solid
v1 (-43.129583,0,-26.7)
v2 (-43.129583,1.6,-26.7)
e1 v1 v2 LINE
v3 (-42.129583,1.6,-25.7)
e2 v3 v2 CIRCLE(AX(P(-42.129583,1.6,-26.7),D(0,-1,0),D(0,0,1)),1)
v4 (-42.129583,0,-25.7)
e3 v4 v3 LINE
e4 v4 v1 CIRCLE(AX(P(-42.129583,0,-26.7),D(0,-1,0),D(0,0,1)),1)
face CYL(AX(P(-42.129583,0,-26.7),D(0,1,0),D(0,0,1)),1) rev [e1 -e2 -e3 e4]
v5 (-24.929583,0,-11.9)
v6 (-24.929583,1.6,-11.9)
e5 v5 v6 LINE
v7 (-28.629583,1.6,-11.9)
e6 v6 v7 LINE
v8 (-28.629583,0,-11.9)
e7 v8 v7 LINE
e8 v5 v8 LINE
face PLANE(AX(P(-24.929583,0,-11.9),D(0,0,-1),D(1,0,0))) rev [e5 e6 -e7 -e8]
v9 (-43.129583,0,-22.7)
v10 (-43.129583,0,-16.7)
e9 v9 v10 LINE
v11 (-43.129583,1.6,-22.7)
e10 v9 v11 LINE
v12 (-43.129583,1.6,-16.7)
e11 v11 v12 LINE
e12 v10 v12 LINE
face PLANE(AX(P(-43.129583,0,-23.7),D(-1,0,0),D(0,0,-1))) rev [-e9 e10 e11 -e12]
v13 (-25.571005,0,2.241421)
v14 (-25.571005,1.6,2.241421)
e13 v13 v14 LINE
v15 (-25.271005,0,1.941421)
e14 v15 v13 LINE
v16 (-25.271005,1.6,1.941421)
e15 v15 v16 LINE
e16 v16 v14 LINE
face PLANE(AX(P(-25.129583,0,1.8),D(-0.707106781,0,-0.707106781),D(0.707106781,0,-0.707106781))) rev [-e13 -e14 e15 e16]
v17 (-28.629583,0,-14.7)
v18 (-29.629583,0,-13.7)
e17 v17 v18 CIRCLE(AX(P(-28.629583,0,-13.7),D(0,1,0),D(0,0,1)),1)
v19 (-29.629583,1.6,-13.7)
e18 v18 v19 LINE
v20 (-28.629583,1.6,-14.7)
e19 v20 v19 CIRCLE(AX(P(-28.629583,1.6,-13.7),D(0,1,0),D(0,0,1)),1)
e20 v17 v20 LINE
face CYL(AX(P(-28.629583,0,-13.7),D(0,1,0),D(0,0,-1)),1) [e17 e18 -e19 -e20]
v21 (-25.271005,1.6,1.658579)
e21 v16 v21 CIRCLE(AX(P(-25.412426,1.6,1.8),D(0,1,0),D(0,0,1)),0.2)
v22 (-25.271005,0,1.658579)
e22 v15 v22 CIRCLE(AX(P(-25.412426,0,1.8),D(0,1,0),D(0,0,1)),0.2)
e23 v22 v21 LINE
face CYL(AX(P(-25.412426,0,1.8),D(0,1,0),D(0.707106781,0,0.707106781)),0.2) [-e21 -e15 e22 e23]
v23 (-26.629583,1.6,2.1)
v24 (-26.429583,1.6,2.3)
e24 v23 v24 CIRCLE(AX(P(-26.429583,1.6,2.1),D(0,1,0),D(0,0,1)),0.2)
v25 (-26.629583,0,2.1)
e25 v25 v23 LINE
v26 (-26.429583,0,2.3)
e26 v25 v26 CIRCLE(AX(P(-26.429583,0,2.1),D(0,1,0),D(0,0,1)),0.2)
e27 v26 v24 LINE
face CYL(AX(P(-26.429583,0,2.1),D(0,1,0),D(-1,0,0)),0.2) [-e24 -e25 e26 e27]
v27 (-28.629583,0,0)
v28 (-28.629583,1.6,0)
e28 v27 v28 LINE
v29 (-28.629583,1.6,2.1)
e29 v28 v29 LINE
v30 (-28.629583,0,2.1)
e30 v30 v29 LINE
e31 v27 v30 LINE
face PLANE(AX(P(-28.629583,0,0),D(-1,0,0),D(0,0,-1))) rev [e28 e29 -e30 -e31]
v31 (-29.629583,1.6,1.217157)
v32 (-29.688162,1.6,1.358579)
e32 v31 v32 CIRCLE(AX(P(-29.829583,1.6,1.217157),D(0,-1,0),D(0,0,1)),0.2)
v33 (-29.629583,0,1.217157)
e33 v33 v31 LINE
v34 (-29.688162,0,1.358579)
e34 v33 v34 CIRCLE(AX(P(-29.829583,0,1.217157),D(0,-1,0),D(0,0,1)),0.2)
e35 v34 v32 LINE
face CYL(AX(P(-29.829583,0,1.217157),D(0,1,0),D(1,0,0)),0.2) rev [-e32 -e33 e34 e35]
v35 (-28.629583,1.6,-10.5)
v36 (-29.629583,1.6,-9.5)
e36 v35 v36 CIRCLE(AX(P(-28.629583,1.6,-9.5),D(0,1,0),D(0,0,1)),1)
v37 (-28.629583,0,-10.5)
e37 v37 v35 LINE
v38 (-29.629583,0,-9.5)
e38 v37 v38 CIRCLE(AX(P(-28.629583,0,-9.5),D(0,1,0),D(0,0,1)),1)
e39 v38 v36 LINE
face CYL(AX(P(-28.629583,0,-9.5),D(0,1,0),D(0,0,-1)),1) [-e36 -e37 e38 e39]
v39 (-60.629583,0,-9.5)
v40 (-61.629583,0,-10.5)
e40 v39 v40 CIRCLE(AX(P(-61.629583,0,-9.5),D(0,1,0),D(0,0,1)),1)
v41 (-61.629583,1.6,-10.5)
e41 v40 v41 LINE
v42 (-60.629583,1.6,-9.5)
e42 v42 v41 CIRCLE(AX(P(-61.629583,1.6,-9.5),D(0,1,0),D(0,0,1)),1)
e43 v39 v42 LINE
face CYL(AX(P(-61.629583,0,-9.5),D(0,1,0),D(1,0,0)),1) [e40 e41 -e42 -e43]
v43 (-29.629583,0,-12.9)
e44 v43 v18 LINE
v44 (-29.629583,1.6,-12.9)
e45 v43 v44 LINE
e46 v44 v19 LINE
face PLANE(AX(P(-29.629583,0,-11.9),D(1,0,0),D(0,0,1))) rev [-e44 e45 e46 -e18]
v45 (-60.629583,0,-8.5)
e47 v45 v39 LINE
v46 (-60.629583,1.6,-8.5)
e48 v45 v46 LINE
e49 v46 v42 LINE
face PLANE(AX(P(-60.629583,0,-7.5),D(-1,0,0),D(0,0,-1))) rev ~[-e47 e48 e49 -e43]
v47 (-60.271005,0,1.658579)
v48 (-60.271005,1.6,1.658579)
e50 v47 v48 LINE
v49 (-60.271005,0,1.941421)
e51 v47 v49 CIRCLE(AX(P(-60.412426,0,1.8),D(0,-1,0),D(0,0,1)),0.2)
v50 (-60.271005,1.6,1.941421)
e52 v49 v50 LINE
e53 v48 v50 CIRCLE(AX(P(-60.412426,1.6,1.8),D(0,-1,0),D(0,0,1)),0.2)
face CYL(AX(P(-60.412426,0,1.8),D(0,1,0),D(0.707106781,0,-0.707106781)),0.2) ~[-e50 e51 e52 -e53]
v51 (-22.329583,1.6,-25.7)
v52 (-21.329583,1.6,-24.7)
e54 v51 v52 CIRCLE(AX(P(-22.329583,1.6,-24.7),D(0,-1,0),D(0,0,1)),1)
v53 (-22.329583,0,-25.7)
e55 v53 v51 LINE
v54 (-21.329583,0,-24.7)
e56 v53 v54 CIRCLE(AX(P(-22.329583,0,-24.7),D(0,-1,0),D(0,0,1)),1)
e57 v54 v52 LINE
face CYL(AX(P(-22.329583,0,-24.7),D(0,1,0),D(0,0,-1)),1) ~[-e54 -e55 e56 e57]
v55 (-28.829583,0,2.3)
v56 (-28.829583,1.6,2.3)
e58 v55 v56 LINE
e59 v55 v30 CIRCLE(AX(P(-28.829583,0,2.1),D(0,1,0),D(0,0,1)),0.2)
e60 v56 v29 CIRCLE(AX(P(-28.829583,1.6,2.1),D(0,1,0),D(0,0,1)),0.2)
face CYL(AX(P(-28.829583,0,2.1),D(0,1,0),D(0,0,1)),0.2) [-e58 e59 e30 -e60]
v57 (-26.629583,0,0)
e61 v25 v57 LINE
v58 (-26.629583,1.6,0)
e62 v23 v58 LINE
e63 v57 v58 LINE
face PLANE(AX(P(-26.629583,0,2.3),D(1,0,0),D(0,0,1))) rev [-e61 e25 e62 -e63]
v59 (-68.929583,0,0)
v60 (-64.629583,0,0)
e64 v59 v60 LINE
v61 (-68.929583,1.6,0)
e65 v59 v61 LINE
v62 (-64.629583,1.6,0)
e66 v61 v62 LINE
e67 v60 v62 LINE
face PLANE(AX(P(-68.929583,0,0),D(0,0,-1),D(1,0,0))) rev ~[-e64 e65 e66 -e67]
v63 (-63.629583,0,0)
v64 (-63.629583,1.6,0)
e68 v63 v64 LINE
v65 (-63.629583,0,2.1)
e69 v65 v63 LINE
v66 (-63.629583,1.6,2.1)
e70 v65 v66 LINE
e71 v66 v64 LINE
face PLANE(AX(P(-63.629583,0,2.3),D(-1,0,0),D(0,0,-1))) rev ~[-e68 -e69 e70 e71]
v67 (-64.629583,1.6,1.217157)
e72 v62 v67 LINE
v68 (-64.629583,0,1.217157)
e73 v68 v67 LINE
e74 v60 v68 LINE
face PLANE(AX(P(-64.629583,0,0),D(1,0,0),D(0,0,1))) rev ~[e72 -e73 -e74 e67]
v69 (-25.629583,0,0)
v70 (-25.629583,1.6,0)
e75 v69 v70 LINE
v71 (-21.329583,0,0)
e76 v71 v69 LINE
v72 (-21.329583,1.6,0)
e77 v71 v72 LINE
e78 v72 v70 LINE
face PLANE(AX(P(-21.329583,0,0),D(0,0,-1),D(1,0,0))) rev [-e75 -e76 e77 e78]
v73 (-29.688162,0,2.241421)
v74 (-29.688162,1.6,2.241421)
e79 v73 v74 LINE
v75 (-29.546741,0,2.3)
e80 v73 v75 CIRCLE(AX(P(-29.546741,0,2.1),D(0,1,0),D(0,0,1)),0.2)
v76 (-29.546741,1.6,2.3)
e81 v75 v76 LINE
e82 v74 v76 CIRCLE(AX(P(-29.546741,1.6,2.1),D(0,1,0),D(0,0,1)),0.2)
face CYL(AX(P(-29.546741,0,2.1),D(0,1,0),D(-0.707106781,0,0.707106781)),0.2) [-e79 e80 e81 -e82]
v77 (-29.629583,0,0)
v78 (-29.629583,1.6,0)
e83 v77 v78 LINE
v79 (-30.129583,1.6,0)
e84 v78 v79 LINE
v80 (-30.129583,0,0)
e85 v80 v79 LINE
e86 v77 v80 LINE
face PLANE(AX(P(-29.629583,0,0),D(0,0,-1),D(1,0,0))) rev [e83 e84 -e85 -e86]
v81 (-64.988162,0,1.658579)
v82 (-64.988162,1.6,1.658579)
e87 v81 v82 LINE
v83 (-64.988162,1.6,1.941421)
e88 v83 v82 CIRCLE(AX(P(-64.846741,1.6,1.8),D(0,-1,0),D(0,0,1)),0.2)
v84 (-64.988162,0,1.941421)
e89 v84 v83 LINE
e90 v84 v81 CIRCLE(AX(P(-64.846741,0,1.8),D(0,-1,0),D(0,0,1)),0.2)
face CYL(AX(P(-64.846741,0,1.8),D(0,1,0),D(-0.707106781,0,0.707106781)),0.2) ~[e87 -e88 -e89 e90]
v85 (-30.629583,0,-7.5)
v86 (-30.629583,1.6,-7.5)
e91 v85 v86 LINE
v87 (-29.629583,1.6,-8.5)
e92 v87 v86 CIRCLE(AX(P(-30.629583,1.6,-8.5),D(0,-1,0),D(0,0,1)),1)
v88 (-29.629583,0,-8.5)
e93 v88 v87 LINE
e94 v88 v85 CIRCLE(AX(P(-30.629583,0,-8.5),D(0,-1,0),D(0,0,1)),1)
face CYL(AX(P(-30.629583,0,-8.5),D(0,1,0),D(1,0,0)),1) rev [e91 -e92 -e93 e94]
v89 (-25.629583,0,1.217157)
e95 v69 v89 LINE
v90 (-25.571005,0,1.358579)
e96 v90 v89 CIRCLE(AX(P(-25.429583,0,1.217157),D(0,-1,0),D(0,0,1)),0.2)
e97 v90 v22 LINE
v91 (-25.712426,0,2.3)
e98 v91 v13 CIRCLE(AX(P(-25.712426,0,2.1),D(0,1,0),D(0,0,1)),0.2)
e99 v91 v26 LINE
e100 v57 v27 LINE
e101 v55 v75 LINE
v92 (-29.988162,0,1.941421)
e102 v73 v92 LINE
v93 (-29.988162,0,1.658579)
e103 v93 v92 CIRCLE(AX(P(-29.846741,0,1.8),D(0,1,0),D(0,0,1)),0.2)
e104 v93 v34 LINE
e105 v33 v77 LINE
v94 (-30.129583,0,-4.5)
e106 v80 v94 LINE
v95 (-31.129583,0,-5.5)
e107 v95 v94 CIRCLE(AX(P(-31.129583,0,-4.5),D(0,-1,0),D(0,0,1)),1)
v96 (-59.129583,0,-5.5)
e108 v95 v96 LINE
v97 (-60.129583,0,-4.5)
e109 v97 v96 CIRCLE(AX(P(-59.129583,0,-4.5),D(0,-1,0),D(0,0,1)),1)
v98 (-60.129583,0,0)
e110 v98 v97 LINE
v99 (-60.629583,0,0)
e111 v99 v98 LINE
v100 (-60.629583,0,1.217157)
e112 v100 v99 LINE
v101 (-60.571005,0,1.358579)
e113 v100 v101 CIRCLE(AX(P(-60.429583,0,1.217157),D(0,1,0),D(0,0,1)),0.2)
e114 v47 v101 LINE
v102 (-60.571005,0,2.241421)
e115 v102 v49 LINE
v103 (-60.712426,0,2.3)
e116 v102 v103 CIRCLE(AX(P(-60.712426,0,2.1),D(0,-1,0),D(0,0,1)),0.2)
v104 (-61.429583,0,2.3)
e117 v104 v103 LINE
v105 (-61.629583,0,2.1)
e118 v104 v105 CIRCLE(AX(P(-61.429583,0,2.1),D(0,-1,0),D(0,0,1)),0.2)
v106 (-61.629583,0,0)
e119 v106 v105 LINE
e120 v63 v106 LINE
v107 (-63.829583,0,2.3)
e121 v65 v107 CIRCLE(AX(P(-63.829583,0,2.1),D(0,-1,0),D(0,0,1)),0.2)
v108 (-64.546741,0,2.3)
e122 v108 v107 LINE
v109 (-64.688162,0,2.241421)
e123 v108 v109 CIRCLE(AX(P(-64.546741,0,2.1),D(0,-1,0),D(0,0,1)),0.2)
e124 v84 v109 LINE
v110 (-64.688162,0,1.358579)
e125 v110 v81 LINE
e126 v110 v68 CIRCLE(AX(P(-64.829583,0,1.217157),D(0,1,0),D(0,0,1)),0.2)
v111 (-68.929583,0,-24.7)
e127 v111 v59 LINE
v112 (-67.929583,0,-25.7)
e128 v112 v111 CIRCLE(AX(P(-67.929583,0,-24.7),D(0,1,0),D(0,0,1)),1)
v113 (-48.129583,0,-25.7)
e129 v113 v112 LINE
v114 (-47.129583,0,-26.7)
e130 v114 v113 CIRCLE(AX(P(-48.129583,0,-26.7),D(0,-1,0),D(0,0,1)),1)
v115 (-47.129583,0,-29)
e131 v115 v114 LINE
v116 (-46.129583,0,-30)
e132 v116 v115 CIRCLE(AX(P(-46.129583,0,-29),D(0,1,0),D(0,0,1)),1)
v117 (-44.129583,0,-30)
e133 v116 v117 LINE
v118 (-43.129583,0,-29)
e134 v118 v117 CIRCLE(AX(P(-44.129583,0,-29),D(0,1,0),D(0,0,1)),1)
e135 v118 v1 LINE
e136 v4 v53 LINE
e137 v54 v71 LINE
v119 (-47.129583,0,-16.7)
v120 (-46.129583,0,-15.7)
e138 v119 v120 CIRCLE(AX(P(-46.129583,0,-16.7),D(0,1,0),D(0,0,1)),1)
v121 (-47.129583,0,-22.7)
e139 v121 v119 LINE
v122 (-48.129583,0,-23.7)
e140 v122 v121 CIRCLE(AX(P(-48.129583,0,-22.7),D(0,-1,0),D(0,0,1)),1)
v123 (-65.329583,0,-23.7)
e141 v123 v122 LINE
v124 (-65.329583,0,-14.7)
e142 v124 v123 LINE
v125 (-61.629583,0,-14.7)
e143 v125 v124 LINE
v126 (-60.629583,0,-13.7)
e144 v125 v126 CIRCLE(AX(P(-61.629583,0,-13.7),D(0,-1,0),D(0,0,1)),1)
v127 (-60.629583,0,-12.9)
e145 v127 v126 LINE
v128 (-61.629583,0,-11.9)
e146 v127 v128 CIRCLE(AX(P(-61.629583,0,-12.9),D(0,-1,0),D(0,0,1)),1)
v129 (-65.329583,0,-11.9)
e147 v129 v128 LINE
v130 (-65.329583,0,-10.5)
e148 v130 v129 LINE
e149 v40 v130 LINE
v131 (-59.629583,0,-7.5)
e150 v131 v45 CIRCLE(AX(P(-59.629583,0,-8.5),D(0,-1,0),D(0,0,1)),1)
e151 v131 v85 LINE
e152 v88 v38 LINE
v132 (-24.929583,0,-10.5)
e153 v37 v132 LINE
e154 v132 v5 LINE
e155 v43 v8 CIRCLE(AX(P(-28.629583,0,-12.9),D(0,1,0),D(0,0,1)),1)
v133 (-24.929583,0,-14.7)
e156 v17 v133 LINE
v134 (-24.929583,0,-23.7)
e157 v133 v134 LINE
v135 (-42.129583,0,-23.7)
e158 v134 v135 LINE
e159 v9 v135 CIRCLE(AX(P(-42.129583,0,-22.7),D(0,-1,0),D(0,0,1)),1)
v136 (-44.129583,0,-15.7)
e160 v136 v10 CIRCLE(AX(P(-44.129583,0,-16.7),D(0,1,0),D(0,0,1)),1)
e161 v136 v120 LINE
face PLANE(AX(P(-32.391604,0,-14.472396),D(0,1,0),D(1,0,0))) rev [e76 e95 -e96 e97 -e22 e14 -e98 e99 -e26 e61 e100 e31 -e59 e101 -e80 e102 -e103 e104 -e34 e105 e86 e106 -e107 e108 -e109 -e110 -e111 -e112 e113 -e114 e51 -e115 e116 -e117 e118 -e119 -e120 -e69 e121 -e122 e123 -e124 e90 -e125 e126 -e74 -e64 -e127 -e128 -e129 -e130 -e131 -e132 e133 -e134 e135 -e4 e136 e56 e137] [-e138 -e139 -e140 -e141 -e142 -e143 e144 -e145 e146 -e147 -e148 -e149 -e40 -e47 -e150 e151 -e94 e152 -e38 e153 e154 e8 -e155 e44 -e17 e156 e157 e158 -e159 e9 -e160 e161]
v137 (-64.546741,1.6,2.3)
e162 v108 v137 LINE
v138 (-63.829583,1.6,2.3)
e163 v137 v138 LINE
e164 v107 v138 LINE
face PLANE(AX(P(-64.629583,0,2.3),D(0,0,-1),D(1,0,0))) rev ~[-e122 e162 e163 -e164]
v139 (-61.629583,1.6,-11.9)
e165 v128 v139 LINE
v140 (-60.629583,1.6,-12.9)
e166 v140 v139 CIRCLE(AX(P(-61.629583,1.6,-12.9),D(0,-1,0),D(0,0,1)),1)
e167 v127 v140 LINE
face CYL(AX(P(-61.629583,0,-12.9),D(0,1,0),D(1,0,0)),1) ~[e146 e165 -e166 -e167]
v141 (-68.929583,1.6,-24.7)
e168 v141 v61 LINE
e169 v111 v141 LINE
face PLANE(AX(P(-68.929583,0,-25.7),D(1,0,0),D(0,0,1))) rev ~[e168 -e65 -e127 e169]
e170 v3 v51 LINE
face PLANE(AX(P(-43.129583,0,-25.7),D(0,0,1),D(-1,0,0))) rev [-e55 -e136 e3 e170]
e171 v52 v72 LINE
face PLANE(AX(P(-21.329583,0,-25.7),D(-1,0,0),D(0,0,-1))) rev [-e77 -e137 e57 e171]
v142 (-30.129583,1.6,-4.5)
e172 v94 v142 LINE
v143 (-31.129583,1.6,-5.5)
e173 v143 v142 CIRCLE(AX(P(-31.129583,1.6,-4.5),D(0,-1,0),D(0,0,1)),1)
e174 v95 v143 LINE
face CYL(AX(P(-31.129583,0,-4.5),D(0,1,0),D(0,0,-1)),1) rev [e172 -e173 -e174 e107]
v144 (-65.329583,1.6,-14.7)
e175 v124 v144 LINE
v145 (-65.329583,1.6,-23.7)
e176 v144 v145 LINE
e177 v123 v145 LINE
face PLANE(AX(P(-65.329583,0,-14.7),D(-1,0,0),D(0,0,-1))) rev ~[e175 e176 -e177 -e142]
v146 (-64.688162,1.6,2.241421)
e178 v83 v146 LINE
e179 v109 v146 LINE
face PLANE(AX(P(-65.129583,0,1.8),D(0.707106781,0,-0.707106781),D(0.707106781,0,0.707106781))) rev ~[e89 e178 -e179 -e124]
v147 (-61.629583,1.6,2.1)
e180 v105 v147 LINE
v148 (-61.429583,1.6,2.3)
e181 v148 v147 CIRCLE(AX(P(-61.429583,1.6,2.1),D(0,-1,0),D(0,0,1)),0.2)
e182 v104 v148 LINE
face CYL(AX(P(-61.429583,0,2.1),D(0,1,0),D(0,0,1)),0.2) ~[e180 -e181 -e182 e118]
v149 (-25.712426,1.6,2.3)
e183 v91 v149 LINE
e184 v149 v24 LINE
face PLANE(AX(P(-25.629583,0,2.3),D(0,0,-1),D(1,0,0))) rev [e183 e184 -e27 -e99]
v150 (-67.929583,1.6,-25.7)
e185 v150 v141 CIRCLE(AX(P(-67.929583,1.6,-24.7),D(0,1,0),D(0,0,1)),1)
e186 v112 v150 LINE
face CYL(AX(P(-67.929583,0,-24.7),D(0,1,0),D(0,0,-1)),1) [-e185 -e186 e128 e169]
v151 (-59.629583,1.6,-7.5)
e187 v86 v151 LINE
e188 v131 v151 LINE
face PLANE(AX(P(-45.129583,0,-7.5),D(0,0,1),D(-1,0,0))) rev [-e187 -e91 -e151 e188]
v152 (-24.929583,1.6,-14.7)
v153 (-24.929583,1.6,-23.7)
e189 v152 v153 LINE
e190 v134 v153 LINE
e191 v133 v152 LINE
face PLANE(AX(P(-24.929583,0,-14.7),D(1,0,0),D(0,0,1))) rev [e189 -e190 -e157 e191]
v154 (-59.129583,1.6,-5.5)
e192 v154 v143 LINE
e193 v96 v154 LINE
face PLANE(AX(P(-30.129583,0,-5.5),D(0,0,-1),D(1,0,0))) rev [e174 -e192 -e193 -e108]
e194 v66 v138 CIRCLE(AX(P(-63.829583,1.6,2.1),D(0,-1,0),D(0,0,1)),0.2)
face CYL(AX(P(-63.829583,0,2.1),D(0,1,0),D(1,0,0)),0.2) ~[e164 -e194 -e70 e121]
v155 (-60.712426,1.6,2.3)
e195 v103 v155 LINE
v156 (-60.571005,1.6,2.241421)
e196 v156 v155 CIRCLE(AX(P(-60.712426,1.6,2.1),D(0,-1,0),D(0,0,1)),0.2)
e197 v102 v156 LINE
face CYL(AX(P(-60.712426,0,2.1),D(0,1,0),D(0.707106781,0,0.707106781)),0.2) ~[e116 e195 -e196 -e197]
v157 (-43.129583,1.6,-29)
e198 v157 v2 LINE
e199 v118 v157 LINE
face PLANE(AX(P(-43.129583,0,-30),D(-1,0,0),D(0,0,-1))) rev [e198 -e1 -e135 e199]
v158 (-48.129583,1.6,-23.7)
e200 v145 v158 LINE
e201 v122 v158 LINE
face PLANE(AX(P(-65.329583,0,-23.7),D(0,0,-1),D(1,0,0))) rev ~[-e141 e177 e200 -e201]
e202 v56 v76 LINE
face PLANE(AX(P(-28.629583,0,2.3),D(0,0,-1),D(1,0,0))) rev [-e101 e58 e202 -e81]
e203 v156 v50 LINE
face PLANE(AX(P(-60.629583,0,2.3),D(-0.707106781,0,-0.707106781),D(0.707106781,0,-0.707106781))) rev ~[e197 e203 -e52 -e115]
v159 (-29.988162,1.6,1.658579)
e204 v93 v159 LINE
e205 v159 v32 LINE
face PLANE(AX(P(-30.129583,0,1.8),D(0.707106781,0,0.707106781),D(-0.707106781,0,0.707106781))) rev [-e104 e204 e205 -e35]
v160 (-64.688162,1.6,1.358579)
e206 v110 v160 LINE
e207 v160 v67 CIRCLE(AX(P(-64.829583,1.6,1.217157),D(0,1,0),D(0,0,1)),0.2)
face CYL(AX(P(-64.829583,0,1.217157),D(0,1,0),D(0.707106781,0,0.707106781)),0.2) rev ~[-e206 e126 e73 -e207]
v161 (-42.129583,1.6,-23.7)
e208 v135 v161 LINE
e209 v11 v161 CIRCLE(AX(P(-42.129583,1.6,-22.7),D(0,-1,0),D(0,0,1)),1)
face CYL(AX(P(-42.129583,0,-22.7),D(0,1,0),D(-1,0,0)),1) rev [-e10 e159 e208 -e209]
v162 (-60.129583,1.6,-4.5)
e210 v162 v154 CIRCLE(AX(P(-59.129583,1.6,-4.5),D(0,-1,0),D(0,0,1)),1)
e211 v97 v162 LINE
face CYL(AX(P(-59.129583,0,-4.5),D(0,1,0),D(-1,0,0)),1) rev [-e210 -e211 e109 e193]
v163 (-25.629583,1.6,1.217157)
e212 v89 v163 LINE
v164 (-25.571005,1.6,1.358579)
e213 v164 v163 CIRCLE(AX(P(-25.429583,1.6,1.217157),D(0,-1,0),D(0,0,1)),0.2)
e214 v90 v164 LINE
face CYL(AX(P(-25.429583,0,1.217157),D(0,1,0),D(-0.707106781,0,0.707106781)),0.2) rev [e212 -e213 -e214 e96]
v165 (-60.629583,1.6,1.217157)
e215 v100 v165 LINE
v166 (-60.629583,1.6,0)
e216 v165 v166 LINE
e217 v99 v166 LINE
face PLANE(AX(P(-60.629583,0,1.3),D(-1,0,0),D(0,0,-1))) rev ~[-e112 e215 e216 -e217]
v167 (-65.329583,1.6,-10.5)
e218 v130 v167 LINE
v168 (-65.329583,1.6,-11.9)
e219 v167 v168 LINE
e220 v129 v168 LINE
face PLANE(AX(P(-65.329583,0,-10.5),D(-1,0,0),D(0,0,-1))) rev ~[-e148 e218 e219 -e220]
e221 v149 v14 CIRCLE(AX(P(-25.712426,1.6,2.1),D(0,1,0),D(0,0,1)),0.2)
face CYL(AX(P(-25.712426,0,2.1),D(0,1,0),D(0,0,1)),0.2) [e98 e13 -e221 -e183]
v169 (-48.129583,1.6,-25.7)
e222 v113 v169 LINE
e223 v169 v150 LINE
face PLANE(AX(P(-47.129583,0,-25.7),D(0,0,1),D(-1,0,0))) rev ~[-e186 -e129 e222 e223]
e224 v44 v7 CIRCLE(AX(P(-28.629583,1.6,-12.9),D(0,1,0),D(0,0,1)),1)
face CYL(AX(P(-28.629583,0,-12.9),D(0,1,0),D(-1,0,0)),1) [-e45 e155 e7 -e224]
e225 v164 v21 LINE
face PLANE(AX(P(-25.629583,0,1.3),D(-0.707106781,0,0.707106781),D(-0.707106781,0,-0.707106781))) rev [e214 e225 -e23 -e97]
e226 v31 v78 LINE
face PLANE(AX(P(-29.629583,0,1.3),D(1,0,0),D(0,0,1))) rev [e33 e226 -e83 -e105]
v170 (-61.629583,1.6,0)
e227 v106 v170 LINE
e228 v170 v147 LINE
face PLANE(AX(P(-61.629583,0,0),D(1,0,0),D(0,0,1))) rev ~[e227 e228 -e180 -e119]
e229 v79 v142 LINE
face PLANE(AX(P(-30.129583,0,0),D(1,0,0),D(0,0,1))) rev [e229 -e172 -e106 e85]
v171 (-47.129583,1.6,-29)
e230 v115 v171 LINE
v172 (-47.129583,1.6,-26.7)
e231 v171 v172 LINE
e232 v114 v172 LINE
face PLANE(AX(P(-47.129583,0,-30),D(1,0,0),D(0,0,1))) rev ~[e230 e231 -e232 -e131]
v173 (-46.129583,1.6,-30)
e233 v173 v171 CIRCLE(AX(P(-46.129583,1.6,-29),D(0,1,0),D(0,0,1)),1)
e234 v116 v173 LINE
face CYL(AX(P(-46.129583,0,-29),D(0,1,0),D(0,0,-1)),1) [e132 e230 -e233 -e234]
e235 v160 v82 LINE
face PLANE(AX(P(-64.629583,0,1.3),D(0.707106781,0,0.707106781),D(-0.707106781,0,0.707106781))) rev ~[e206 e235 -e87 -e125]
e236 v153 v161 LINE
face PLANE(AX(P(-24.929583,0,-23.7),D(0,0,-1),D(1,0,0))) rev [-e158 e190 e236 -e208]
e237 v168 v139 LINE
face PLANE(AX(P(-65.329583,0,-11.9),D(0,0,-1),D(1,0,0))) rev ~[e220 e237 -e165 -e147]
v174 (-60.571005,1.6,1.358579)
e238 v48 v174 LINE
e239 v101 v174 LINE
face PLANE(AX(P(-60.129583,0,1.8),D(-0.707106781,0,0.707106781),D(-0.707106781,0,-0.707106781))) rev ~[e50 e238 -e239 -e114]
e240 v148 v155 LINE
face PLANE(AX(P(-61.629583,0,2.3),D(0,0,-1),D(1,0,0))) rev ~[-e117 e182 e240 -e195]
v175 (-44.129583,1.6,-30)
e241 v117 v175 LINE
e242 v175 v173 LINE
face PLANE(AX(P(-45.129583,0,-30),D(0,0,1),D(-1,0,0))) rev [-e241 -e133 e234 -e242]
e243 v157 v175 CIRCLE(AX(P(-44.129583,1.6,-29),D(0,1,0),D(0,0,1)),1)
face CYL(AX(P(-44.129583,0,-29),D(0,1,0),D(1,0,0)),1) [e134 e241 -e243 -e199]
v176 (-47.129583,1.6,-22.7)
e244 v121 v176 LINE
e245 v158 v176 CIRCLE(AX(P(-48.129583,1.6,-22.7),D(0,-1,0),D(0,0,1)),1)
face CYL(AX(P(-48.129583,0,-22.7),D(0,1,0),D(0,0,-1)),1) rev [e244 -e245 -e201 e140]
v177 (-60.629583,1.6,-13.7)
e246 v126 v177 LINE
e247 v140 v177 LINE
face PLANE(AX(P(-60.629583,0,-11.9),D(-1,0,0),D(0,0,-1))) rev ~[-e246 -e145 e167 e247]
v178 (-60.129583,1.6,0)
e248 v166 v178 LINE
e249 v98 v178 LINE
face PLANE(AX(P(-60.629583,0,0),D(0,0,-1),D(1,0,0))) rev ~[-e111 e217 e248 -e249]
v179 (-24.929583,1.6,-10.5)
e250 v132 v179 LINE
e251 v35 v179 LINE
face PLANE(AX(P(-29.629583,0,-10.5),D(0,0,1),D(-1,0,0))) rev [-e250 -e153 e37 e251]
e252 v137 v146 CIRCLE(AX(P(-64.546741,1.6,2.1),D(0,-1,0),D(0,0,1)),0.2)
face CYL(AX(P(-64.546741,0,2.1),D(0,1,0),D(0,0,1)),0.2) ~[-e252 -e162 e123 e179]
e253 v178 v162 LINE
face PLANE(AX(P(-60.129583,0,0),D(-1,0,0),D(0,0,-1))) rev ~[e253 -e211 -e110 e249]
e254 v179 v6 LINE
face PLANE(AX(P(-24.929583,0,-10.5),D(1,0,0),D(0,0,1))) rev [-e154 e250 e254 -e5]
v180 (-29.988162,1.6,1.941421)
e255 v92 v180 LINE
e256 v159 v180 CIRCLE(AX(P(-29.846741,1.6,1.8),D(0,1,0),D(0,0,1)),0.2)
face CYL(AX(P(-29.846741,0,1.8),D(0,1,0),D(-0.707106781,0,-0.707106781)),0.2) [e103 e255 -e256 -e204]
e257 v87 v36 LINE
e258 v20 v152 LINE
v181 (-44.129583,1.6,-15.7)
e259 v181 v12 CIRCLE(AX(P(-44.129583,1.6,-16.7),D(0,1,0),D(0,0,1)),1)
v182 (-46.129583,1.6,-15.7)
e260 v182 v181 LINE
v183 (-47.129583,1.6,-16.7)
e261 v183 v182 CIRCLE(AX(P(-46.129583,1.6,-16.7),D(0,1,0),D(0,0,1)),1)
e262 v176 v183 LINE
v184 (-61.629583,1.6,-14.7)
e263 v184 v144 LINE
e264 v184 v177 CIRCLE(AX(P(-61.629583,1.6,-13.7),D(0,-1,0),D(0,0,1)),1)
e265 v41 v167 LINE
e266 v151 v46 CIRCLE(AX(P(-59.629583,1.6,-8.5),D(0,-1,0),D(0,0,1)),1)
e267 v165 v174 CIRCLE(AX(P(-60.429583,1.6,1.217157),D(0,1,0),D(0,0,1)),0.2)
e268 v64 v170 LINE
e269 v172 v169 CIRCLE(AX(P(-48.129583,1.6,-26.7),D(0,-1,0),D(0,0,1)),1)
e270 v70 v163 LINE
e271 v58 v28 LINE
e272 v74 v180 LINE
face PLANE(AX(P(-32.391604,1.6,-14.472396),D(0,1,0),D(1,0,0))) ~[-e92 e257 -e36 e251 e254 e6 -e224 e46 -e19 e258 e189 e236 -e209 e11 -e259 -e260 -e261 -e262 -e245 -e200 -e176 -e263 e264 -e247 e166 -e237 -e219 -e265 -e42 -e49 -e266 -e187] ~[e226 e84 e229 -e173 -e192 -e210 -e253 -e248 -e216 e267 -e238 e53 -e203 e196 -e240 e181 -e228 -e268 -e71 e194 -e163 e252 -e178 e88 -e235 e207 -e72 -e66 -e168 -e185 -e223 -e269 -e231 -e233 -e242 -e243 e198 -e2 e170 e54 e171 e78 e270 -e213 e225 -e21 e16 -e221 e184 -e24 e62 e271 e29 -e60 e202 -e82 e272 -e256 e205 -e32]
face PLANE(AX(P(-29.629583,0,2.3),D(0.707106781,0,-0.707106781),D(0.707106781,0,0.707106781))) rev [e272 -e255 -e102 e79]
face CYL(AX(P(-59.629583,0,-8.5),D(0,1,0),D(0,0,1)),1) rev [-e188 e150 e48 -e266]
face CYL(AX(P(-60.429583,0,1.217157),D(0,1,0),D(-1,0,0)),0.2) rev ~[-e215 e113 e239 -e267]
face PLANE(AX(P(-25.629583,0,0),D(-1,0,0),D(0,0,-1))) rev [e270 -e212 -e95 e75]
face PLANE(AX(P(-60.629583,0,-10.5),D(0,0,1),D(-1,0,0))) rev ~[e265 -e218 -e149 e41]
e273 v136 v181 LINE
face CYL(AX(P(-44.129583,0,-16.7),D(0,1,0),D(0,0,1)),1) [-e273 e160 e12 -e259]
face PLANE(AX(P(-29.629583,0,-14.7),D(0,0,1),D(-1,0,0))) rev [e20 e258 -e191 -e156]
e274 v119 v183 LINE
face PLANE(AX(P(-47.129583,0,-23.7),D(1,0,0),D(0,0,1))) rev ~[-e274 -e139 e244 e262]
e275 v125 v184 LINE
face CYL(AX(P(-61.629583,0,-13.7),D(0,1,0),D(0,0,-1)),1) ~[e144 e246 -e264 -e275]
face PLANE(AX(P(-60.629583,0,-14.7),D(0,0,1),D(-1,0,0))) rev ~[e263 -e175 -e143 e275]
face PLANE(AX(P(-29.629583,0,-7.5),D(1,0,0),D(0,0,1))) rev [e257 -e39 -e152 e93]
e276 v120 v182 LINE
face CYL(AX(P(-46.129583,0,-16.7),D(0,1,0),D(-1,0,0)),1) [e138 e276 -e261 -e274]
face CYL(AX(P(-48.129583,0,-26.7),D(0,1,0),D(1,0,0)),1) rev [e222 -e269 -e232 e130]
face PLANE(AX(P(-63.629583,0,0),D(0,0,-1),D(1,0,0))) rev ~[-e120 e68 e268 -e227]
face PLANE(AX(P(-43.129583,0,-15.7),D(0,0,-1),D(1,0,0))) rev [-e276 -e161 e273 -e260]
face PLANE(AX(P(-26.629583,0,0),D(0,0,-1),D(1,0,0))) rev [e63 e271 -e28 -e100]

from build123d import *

# Parameters (mm, degrees)
BOSS_EXTRUDE1_DEPTH = 1.6
FILLET1_R           = 1
FILLET2_R           = 1
FILLET3_R           = 0.2


with BuildPart() as part:
    # Sketch1 → Boss-Extrude1 (new body)
    with BuildSketch(Plane(origin=(0, 0, 0), x_dir=(1, 0, 0), z_dir=(0, 1, 0))):
        Polygon((-68.929583289, 0), (-64.629583289, 0), (-64.629583289, -1.3), (-65.129583289, -1.8), (-64.629583289, -2.3), (-63.629583289, -2.3), (-63.629583289, 0), (-61.629583289, 0), (-61.629583289, -2.3), (-60.629583289, -2.3), (-60.129583289, -1.8), (-60.629583289, -1.3), (-60.629583289, 0), (-60.129583289, 0), (-60.129583289, 5.5), (-45.129583289, 5.5), (-45.129583289, 7.5), (-60.629583289, 7.5), (-60.629583289, 10.5), (-65.329583289, 10.5), (-65.329583289, 11.9), (-60.629583289, 11.9), (-60.629583289, 14.7), (-65.329583289, 14.7), (-65.329583289, 23.7), (-47.129583289, 23.7), (-47.129583289, 15.7), (-45.129583289, 15.7), (-45.129583289, 30), (-47.129583289, 30), (-47.129583289, 25.7), (-68.929583289, 25.7), (-68.929583289, 20), align=None)
    boss_extrude1 = extrude(amount=BOSS_EXTRUDE1_DEPTH)

    # Mirror1: Boss-Extrude1 across plane
    add(boss_extrude1.mirror(Plane(origin=(-45.129583289, 1.6, -15.7), x_dir=(0, 0, 1), z_dir=(-1, 0, 0))))

    # Fillet1
    fillet1_edges = [part.edges().sort_by_distance(p)[0] for p in [
        (-68.929583289, 0.8, -25.7),
        (-47.129583289, 0.8, -25.7),
        (-47.129583289, 0.8, -30),
        (-47.129583289, 0.8, -15.7),
        (-47.129583289, 0.8, -23.7),
        (-21.329583289, 0.8, -25.7),
        (-43.129583289, 0.8, -25.7),
        (-43.129583289, 0.8, -30),
        (-43.129583289, 0.8, -15.7),
        (-43.129583289, 0.8, -23.7),
    ]]
    fillet(fillet1_edges, radius=FILLET1_R)

    # Fillet2
    fillet2_edges = [part.edges().sort_by_distance(p)[0] for p in [
        (-60.629583289, 0.8, -14.7),
        (-60.629583289, 0.8, -11.9),
        (-60.629583289, 0.8, -10.5),
        (-60.629583289, 0.8, -7.5),
        (-60.129583289, 0.8, -5.5),
        (-29.629583289, 0.8, -14.7),
        (-29.629583289, 0.8, -11.9),
        (-29.629583289, 0.8, -10.5),
        (-29.629583289, 0.8, -7.5),
        (-30.129583289, 0.8, -5.5),
    ]]
    fillet(fillet2_edges, radius=FILLET2_R)

    # Fillet3
    fillet3_edges = [part.edges().sort_by_distance(p)[0] for p in [
        (-60.629583289, 0.8, 1.3),
        (-60.129583289, 0.8, 1.8),
        (-60.629583289, 0.8, 2.3),
        (-61.629583289, 0.8, 2.3),
        (-63.629583289, 0.8, 2.3),
        (-64.629583289, 0.8, 2.3),
        (-65.129583289, 0.8, 1.8),
        (-64.629583289, 0.8, 1.3),
        (-29.629583289, 0.8, 1.3),
        (-30.129583289, 0.8, 1.8),
        (-29.629583289, 0.8, 2.3),
        (-28.629583289, 0.8, 2.3),
        (-26.629583289, 0.8, 2.3),
        (-25.629583289, 0.8, 2.3),
        (-25.129583289, 0.8, 1.8),
        (-25.629583289, 0.8, 1.3),
    ]]
    fillet(fillet3_edges, radius=FILLET3_R)


solid = part.part
